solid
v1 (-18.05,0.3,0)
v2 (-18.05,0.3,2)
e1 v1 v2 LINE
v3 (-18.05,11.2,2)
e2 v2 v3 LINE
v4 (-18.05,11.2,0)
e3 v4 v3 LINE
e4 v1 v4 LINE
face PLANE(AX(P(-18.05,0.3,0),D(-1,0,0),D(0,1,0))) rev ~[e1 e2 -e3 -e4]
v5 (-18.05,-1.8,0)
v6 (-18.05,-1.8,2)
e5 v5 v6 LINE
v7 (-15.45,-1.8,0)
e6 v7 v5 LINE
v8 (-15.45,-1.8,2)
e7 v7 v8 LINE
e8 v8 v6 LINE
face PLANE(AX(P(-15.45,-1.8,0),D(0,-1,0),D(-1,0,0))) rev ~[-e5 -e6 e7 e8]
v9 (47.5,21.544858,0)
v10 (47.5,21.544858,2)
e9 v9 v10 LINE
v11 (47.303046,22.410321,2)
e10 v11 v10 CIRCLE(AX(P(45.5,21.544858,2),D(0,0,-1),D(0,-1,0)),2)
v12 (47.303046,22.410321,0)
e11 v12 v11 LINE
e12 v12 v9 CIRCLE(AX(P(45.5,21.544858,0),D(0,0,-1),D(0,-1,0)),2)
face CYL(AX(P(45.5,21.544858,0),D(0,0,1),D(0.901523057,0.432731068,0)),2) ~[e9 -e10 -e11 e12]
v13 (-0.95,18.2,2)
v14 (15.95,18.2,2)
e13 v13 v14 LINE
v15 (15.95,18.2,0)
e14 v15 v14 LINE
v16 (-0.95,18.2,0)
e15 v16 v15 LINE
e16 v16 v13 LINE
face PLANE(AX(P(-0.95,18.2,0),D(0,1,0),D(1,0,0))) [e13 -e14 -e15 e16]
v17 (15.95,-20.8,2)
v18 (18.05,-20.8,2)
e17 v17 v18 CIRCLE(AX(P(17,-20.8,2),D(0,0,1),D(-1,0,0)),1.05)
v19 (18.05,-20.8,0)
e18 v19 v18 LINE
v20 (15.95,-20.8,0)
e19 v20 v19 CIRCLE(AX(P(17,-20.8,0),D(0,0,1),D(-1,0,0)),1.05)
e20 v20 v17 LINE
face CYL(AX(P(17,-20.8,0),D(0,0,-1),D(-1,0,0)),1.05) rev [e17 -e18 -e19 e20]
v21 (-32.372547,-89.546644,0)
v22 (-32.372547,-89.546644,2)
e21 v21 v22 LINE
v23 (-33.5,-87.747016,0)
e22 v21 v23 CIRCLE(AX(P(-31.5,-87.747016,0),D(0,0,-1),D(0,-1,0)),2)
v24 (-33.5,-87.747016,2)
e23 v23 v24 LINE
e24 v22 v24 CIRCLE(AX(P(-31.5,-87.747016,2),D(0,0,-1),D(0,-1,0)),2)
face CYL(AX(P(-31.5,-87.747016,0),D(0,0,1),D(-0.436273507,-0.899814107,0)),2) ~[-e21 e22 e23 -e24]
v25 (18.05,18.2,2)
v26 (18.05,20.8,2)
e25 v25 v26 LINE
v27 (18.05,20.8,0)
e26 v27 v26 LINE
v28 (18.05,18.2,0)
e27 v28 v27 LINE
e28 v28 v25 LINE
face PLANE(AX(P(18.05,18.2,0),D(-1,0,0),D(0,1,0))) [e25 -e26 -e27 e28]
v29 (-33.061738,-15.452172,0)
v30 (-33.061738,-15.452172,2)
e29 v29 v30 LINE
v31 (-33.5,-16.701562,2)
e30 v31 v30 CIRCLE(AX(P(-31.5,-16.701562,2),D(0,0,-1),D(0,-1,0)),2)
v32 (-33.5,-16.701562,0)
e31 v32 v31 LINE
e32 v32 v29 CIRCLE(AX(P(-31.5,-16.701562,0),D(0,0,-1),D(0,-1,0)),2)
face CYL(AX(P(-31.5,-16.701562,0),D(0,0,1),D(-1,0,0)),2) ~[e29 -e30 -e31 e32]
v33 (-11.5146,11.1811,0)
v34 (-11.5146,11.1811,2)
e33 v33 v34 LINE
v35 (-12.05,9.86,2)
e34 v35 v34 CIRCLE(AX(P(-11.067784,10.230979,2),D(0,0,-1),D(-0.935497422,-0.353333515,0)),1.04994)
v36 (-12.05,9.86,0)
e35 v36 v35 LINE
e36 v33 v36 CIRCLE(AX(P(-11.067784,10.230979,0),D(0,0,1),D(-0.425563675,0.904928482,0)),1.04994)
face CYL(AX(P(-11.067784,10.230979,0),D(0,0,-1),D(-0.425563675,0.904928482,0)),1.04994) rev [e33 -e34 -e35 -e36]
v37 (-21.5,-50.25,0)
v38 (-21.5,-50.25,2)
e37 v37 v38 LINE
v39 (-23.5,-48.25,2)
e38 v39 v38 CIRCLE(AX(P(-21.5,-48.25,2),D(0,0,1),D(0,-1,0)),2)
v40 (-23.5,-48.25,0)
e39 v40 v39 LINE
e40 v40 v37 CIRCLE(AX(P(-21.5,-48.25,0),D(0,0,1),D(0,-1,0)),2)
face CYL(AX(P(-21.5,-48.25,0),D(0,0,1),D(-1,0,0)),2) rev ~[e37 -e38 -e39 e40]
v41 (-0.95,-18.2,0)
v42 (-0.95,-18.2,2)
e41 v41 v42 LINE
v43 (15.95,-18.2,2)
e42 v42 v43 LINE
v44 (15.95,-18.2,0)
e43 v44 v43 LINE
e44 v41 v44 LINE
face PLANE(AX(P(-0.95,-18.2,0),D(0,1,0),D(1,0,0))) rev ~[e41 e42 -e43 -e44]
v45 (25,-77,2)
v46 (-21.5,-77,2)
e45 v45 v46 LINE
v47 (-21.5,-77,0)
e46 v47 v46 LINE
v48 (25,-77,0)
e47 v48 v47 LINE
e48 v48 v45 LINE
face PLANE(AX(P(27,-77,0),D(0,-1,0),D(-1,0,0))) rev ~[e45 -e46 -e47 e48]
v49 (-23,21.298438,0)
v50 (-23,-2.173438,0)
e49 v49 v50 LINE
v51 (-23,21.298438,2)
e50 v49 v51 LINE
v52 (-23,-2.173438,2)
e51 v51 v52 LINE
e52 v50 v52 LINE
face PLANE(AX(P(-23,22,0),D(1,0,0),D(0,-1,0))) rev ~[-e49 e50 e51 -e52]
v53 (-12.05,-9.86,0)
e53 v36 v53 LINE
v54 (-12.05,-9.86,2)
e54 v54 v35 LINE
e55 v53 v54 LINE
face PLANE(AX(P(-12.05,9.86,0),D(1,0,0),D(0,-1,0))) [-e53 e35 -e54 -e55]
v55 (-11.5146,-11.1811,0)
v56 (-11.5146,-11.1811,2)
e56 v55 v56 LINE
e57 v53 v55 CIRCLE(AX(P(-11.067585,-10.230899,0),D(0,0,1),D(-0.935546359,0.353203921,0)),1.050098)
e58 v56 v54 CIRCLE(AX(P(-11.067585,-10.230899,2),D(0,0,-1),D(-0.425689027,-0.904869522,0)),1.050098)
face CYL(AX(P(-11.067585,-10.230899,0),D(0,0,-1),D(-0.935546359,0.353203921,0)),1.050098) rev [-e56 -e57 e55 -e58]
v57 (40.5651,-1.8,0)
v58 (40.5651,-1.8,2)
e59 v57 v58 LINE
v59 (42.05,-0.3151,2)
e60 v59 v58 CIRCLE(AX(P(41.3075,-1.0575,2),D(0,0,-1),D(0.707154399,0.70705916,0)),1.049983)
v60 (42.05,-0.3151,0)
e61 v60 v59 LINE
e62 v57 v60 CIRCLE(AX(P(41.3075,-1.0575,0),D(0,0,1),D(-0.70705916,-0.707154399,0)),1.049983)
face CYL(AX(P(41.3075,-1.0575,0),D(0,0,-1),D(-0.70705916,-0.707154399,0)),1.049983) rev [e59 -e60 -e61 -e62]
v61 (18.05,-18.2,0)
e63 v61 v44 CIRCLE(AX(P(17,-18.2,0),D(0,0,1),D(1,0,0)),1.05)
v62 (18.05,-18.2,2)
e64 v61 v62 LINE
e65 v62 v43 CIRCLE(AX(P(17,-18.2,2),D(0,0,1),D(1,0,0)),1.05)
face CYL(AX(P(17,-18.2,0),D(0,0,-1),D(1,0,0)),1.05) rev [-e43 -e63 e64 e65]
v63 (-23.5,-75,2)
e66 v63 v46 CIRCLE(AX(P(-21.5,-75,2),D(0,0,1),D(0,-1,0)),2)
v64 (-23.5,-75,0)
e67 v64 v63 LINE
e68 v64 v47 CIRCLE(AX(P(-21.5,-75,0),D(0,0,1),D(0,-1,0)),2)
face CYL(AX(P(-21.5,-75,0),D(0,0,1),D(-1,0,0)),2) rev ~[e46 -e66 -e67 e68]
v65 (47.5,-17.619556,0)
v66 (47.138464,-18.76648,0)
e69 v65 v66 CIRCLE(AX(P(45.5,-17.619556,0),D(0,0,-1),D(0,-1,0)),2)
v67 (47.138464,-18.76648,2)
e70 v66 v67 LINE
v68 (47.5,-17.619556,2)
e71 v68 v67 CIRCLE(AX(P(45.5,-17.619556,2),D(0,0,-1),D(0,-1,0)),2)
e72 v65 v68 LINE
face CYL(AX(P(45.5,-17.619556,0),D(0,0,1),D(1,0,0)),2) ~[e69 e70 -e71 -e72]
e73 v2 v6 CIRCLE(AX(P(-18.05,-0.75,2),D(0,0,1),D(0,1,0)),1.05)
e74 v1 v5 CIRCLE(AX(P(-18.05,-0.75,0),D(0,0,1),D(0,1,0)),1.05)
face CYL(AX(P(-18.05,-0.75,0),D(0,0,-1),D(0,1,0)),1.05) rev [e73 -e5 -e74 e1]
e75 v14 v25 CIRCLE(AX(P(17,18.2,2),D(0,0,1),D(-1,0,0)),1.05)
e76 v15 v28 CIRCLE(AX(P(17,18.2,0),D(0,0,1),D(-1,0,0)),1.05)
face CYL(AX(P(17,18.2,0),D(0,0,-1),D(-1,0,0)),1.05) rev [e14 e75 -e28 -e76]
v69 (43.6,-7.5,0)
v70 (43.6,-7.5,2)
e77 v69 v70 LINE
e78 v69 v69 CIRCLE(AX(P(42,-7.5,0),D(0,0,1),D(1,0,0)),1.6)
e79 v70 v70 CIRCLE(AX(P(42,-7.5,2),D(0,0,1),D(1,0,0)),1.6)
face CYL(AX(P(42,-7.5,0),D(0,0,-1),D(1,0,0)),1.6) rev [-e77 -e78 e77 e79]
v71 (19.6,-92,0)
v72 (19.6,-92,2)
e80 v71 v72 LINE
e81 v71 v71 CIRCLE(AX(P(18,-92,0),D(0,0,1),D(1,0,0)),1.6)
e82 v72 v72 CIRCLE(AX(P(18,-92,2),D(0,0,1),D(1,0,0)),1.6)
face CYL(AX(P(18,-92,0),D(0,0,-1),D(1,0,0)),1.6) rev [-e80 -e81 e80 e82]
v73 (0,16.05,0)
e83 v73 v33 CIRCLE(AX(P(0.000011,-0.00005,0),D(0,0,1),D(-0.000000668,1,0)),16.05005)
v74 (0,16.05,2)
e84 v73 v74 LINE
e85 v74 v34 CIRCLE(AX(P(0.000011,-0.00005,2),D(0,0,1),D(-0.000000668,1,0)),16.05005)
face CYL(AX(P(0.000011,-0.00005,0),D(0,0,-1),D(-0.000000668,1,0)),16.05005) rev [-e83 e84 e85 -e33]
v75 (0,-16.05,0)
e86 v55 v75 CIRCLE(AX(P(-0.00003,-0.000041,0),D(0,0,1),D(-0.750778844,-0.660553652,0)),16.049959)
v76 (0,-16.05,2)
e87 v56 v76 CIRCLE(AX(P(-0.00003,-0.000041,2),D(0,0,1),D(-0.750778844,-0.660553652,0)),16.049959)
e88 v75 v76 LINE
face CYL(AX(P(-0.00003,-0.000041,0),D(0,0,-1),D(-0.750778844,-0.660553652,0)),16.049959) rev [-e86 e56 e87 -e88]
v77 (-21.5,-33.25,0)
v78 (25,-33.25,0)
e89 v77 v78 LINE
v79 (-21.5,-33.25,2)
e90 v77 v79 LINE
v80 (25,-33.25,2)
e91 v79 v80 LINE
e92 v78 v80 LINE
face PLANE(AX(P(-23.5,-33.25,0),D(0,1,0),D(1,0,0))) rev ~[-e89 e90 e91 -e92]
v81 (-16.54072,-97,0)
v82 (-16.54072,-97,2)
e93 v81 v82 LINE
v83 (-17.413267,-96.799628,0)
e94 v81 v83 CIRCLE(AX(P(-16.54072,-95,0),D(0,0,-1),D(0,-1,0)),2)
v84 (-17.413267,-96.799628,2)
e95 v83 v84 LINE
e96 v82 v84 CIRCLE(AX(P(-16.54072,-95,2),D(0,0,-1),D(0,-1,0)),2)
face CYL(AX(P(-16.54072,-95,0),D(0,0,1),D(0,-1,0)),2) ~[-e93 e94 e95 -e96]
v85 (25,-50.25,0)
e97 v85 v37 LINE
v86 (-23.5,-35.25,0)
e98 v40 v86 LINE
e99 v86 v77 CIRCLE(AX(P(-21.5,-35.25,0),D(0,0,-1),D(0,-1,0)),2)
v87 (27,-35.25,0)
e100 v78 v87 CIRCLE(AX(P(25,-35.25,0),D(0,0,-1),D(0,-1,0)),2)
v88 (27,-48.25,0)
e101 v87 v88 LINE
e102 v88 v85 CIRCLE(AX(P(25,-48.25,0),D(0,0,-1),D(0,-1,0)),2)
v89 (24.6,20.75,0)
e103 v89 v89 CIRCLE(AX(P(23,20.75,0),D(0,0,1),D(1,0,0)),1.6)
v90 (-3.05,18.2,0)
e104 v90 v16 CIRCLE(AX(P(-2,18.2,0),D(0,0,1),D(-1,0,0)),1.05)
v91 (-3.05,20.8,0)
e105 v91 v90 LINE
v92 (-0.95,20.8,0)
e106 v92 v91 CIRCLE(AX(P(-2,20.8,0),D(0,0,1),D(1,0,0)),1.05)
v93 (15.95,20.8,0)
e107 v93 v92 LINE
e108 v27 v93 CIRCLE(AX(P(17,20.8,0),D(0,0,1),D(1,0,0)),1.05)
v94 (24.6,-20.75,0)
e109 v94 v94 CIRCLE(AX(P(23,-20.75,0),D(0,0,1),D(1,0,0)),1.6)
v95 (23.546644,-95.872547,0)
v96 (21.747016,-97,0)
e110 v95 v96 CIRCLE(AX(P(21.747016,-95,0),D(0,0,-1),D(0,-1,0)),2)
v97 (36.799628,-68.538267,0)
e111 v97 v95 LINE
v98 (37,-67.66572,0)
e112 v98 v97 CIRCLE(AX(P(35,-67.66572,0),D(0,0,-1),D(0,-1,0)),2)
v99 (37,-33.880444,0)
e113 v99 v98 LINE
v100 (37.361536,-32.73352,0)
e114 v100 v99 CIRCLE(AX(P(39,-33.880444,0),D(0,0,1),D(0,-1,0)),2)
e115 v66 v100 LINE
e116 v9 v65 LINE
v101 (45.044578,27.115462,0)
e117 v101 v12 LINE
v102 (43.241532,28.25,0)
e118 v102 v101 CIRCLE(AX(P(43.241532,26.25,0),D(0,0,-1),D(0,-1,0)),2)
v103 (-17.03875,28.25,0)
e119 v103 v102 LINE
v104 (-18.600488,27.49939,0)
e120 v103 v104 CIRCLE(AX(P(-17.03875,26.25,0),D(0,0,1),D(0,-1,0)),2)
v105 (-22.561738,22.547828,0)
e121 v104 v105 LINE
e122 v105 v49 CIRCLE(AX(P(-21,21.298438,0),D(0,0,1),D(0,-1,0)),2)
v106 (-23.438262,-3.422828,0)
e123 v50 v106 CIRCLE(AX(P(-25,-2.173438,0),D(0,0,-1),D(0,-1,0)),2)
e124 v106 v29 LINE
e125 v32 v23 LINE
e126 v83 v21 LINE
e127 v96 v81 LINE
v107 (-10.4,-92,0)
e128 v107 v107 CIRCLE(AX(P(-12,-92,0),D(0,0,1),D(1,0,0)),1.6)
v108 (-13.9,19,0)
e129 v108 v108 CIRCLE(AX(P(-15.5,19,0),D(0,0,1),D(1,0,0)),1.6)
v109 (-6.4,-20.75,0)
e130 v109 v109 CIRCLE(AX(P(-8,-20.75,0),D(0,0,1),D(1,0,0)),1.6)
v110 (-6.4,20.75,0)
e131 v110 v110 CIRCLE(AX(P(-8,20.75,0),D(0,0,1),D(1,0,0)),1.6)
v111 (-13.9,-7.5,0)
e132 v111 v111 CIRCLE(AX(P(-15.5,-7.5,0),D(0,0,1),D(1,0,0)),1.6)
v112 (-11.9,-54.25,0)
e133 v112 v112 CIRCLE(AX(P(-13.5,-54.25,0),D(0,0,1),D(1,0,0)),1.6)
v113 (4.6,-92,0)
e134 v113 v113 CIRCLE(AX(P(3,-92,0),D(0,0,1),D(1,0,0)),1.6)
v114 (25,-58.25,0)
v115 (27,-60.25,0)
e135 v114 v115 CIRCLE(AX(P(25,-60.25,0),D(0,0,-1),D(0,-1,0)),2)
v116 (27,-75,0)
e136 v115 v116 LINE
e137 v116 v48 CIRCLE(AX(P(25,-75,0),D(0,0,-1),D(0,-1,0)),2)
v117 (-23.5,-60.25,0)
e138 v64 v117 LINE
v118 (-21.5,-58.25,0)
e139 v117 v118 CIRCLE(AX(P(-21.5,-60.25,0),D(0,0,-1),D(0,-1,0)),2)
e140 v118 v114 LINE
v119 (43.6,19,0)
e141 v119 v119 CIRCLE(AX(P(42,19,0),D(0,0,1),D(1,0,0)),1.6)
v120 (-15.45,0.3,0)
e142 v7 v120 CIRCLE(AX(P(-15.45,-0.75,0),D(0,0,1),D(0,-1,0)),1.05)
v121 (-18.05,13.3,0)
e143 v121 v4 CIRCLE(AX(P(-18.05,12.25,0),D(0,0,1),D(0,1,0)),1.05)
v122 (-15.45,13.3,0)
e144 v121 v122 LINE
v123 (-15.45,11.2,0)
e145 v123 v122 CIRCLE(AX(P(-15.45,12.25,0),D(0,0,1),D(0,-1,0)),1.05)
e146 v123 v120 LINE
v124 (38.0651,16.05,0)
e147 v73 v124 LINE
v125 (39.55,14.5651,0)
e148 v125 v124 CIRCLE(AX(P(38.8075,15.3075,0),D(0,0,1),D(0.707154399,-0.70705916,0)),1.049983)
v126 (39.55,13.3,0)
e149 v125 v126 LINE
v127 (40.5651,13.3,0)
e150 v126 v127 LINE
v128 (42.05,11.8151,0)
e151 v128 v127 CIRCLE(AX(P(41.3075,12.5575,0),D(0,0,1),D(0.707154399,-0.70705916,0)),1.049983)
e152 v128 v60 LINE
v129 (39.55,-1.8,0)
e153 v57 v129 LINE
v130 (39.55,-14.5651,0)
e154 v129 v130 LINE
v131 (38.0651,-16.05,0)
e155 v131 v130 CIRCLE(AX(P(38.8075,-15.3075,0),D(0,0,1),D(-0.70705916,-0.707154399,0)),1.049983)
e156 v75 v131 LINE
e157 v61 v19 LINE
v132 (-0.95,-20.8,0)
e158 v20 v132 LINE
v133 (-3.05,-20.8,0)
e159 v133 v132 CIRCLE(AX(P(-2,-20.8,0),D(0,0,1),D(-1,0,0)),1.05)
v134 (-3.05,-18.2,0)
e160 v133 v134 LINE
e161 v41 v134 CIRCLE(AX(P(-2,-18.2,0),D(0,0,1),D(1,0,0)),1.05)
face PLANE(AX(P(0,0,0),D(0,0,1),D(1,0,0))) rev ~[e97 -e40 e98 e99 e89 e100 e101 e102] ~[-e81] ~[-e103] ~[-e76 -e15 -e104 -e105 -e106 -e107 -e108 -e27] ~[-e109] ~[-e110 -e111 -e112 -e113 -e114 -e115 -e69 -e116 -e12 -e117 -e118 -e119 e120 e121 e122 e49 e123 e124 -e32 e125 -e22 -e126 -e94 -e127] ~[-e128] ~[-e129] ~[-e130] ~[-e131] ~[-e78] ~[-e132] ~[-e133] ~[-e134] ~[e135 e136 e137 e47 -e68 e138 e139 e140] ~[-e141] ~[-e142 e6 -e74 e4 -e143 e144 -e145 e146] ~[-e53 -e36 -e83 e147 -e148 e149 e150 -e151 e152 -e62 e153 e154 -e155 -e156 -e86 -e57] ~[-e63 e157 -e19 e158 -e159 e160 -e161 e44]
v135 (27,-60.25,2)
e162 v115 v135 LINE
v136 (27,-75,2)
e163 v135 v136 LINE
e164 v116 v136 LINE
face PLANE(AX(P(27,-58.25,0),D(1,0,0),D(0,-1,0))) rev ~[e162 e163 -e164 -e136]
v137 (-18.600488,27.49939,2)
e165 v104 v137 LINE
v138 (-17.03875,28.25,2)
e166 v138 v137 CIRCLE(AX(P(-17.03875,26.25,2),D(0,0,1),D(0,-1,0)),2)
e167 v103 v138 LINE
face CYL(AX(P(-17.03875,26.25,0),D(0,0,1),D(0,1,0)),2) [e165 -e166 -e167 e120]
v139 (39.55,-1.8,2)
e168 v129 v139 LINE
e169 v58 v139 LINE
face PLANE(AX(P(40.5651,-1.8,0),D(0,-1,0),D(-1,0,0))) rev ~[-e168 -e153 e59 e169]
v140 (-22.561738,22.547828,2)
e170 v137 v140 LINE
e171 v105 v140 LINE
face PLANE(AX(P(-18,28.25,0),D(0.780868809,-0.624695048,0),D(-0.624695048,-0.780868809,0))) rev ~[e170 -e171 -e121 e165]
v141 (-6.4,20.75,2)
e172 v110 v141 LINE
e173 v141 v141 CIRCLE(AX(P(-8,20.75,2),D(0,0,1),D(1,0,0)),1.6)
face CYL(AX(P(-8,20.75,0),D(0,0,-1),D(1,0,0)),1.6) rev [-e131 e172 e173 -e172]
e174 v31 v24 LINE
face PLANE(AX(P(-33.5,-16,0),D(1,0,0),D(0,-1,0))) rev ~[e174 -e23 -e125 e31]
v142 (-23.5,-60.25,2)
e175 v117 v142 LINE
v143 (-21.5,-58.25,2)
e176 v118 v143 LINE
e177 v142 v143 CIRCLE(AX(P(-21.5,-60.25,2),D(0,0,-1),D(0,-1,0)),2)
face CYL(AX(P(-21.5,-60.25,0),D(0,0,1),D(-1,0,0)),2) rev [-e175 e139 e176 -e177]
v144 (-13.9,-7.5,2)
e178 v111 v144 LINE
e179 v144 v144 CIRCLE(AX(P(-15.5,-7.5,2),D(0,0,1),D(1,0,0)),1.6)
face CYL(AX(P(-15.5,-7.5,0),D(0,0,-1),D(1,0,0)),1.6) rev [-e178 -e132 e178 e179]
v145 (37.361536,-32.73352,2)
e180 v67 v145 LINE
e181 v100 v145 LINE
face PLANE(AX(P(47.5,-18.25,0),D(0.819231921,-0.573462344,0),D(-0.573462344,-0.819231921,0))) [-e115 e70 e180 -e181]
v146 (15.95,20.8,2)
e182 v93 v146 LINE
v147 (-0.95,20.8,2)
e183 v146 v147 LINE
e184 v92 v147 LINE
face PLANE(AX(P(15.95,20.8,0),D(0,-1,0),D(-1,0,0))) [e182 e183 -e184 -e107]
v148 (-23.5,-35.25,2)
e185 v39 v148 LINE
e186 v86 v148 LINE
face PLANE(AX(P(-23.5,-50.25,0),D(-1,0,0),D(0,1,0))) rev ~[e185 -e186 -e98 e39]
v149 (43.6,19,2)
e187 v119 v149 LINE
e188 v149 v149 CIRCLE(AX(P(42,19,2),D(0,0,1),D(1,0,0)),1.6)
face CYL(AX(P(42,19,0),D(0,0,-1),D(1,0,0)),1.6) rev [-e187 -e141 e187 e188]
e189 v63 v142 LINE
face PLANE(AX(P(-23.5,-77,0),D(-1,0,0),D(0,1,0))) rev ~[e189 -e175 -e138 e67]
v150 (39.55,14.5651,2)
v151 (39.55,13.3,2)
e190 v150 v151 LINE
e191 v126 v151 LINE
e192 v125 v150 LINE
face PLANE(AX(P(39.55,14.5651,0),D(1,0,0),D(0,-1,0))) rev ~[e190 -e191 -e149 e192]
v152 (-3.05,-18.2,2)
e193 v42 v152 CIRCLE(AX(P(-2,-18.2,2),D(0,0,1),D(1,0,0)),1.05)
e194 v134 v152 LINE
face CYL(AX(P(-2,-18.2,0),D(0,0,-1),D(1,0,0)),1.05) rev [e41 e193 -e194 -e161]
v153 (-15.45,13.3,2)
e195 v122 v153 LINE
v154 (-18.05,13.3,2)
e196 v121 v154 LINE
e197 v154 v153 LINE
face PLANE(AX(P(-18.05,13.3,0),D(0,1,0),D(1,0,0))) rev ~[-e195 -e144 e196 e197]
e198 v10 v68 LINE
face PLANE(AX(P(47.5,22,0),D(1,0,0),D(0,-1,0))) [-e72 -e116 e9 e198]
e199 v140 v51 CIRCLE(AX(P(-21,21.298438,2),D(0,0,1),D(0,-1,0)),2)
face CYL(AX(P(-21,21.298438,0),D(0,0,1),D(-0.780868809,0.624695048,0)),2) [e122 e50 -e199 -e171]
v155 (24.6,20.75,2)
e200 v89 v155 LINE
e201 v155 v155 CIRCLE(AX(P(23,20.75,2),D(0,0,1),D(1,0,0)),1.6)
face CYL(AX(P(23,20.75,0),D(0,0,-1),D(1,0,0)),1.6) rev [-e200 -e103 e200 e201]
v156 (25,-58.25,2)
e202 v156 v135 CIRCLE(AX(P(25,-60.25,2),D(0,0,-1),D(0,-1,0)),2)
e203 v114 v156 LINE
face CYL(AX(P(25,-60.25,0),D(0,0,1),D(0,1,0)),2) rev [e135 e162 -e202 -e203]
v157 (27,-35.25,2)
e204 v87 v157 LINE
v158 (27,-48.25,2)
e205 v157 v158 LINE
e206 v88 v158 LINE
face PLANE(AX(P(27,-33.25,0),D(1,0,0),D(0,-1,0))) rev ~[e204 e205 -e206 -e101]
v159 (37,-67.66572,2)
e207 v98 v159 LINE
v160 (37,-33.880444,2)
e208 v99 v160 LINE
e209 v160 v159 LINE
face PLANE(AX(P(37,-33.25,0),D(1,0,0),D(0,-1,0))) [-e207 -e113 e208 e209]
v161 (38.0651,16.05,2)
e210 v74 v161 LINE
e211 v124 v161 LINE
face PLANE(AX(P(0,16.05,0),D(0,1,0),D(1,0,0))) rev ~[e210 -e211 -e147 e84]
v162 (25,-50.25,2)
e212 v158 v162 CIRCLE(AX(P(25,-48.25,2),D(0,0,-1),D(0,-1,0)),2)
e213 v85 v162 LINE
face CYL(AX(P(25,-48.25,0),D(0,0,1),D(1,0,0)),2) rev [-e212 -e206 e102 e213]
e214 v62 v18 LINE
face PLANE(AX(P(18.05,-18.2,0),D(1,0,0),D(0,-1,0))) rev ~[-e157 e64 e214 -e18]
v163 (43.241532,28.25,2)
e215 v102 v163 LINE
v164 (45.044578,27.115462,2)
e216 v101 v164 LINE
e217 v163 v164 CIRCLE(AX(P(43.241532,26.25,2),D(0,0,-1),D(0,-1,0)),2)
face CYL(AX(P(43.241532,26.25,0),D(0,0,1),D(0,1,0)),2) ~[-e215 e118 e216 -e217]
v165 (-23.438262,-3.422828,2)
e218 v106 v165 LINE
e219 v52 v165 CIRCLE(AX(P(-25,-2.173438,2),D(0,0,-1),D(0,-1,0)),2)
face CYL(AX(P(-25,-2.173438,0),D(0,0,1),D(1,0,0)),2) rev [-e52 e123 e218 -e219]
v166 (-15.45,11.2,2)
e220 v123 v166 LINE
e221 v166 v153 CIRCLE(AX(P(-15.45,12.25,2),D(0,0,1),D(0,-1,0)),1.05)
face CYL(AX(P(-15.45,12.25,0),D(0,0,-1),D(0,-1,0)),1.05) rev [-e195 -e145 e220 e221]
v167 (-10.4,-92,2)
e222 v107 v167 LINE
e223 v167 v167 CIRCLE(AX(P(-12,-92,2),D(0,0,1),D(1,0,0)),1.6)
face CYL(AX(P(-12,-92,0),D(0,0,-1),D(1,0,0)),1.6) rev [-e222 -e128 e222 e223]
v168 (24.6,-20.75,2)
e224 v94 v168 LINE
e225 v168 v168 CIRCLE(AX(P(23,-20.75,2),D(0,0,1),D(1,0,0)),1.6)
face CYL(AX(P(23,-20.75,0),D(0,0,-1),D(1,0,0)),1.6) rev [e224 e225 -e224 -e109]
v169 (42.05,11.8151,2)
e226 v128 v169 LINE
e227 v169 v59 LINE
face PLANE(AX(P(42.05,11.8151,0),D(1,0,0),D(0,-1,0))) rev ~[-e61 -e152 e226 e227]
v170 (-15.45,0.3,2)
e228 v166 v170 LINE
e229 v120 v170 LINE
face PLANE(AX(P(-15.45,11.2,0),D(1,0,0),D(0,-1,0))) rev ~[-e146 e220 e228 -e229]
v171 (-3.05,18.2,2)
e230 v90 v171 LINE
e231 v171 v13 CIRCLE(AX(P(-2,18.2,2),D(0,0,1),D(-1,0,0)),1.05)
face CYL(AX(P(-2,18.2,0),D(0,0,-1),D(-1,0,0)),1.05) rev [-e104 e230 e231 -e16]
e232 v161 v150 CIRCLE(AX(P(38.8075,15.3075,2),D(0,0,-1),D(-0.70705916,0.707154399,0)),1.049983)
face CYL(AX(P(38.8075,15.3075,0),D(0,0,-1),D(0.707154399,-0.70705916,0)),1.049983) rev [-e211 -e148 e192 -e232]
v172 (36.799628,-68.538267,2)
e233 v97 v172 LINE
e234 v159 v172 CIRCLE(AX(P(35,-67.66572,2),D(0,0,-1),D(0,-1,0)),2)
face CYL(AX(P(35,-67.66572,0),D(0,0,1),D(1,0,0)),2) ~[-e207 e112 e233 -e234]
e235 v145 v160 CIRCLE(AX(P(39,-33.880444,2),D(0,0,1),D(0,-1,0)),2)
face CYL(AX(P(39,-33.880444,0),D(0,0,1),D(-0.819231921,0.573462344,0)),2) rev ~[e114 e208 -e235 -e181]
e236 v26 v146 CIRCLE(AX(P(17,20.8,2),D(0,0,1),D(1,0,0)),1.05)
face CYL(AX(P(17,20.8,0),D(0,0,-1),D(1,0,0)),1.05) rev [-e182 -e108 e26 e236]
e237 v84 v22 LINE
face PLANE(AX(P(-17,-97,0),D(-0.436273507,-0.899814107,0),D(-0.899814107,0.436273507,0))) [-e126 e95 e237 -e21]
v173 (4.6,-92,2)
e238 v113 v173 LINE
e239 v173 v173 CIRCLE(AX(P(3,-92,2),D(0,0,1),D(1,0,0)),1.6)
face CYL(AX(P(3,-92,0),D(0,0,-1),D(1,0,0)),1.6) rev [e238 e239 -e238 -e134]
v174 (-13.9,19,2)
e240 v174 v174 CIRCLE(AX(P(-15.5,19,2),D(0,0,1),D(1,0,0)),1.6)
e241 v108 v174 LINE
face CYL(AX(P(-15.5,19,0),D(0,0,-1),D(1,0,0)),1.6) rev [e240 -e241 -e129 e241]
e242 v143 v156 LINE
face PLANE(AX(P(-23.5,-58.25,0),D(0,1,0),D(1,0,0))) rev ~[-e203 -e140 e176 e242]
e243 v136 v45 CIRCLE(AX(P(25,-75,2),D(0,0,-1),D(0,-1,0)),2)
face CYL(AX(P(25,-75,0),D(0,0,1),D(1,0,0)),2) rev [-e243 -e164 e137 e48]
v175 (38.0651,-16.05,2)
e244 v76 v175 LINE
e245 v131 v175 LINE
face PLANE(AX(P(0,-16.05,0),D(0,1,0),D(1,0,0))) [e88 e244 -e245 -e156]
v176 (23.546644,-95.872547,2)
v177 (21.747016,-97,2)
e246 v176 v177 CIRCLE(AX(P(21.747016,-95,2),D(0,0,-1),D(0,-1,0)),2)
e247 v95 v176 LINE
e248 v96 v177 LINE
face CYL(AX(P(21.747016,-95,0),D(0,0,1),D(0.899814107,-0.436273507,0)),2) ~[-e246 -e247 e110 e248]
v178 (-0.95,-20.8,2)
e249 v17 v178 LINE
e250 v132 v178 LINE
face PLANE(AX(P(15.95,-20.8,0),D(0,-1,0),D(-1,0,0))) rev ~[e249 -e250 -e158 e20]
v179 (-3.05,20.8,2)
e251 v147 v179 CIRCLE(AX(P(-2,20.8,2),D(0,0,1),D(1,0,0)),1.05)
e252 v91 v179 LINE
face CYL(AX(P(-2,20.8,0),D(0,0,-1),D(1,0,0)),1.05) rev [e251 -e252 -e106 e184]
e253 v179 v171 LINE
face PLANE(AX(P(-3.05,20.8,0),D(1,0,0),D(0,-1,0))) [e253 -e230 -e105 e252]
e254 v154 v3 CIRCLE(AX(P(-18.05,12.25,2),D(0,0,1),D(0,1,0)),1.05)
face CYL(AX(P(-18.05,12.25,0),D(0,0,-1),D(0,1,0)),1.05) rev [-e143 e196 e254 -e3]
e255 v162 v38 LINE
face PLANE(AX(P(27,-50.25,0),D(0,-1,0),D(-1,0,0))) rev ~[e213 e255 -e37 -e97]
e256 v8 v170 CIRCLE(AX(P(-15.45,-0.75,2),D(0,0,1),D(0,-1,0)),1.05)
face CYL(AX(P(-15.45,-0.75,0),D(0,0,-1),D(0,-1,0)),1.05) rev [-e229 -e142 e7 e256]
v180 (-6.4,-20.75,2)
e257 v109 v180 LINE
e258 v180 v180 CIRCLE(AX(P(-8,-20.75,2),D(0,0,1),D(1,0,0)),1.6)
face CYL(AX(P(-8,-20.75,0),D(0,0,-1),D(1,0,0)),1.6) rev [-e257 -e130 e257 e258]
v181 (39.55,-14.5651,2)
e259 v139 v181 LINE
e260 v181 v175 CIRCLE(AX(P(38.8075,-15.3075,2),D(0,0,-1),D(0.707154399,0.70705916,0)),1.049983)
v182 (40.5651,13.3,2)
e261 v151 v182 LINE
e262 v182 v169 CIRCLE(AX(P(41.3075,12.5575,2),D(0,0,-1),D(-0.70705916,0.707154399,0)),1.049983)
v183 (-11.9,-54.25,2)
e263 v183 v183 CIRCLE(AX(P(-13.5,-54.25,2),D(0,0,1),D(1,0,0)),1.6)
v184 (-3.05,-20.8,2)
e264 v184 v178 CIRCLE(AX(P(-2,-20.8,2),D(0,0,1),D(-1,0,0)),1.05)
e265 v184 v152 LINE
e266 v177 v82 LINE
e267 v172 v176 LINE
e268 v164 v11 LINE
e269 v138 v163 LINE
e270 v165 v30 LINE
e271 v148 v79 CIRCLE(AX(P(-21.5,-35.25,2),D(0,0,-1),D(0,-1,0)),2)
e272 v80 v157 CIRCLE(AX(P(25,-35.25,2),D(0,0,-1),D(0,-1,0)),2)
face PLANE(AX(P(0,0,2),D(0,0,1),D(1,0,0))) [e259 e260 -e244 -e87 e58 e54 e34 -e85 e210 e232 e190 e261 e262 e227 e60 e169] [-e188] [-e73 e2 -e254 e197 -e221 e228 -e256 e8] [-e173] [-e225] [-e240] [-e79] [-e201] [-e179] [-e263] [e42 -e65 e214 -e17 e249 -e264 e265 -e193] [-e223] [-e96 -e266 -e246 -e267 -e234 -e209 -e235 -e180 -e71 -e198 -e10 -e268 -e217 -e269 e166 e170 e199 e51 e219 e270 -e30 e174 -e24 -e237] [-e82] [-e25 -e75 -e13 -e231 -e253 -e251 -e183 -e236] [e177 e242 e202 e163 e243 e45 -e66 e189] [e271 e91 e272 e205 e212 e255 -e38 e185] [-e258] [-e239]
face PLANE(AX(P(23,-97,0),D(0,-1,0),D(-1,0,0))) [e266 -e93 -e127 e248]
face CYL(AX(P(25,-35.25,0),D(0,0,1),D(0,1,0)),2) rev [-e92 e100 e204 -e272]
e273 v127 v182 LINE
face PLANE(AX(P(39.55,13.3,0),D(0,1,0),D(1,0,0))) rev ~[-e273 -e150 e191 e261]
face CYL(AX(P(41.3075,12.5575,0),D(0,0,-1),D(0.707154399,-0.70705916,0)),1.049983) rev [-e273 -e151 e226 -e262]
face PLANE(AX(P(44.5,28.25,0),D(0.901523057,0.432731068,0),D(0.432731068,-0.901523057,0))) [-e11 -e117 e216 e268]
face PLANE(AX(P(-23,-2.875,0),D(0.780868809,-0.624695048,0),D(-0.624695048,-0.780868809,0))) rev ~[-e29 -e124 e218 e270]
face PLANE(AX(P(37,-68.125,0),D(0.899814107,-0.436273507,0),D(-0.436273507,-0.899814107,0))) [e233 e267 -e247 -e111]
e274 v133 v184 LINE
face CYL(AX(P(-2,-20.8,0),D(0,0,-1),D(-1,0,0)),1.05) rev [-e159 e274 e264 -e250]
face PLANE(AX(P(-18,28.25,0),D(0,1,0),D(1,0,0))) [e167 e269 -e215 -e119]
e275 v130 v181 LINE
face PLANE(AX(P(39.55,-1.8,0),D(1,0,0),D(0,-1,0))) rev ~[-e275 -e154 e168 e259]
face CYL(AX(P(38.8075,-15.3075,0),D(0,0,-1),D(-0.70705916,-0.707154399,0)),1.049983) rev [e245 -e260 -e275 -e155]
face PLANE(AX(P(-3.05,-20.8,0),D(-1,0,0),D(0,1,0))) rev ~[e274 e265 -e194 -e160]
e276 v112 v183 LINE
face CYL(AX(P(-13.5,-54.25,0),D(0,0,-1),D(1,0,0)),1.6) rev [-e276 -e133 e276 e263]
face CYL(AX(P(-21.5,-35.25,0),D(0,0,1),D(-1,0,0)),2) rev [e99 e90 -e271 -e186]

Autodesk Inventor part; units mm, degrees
ref_plane "YZ Plane" through (0, 0, 0) normal (1, 0, 0) x (0, 1, 0)
ref_plane "XZ Plane" through (0, 0, 0) normal (0, 1, 0) x (-1, 0, 0)
ref_plane "XY Plane" through (0, 0, 0) normal (0, 0, 1) x (1, 0, 0)
sketch "スケッチ1" plane through (0, 0, 0) normal (0, 0, 1) x (1, 0, 0)
  circle A0 centre (0, 0) radius 11
  line L0 (1, 13.5) -> (28, 13.5) construction
  line L1 (28, 13.5) -> (28, -13.5) construction
  line L2 (28, -13.5) -> (1, -13.5) construction
  line L3 (1, -13.5) -> (1, 13.5) construction
  line L4 (1, 13.5) -> (28, -13.5) construction
  line L5 (28, 13.5) -> (1, -13.5) construction
  line L6 (-12, 16) -> (39.5, 16) construction
  line L7 (39.5, 16) -> (39.5, -16) construction
  line L8 (39.5, -16) -> (-12, -16) construction
  line L9 (-12, -16) -> (-12, 16) construction
  line L10 (-12, 16) -> (39.5, -16) construction
  line L11 (39.5, 16) -> (-12, -16) construction
  circle A1 centre (1, 13.5) radius 1.35
  arc A2 (0, 16) -> (-12, 10.583) centre (0, 0) ccw construction
  line L12 (-12, 0) -> (39.5, 0)
  circle A3 centre (28, 13.5) radius 1.35
  arc A4 (-12, -10.583) -> (0, -16) centre (0, 0) ccw construction
  circle A5 centre (1, -13.5) radius 1.35
  circle A6 centre (28, -13.5) radius 1.35
  arc A7 (0, 16.05) -> (-12.05, 10.6019) centre (0, 0) ccw
  line L13 (0, 16.05) -> (39.55, 16.05)
  line L14 (39.55, 16.05) -> (39.55, 13.3)
  line L15 (-12.05, 10.6019) -> (-12.05, 0)
  arc A8 (-11.5146, 11.1811) -> (-12.05, 9.86) centre (-11.0677, 10.2309) ccw
  line L16 (-12.05, 10.6019) -> (-11.0677, 10.2309) construction
  arc A9 (39.55, 14.5651) -> (38.0651, 16.05) centre (38.8075, 15.3075) ccw
  line L17 (38.8075, 15.3075) -> (39.55, 16.05) construction
  arc A10 (-12.05, -10.6019) -> (0, -16.05) centre (0, 0) ccw
  line L18 (0, -16.05) -> (39.55, -16.05)
  line L19 (-12.05, -10.6019) -> (-12.05, 0)
  arc A11 (-12.05, -9.86) -> (-11.5146, -11.1811) centre (-11.0677, -10.2309) ccw
  arc A12 (38.0651, -16.05) -> (39.55, -14.5651) centre (38.8075, -15.3075) ccw
  line L20 (39.55, 13.3) -> (42.05, 13.3)
  line L21 (42.05, 13.3) -> (42.05, -1.8)
  line L22 (42.05, -1.8) -> (39.55, -1.8)
  line L23 (39.55, -1.8) -> (39.55, -14.5651)
  line L24 (39.5, 13.25) -> (42, 13.25) construction
  line L25 (42, 13.25) -> (42, -1.75) construction
  line L26 (42, -1.75) -> (39.5, -1.75) construction
  line L27 (42, 5.75) -> (39.5, 5.75) construction
  arc A13 (42.05, 11.8151) -> (40.5651, 13.3) centre (41.3075, 12.5575) ccw
  line L28 (41.3075, 12.5575) -> (42.05, 13.3) construction
  arc A14 (40.5651, -1.8) -> (42.05, -0.3151) centre (41.3075, -1.0575) ccw
  circle A15 centre (-15.5, 19) radius 1.6
  line L29 (-18, 22) -> (-13, 22) construction
  line L30 (-13, 22) -> (-13, -10.5) construction
  line L31 (-13, -10.5) -> (-18, -10.5) construction
  line L32 (-18, -10.5) -> (-18, 22) construction
  line L33 (-18, 22) -> (-13, -10.5) construction
  line L34 (-13, 22) -> (-18, -10.5) construction
  line L35 (-18, 5.75) -> (-13, 5.75) construction
  line L36 (-15.5, 22) -> (-15.5, -10.5) construction
  line L37 (-18, 13.25) -> (-15.5, 13.25) construction
  line L38 (-15.5, 13.25) -> (-15.5, -1.75) construction
  line L39 (-15.5, -1.75) -> (-18, -1.75) construction
  line L40 (-18, 13.25) -> (-15.5, -1.75) construction
  line L41 (-15.5, 13.25) -> (-18, -1.75) construction
  line L42 (-15.45, -1.8) -> (-18.05, -1.8)
  line L43 (-18.05, -1.8) -> (-18.05, 13.3)
  line L44 (-18.05, 13.3) -> (-15.45, 13.3)
  line L45 (-15.45, 13.3) -> (-15.45, -1.8)
  line L46 (-15.45, -1.8) -> (-18.05, 13.3) construction
  line L47 (-18.05, -1.8) -> (-15.45, 13.3) construction
  line L48 (-16.75, 13.3) -> (-16.75, -1.8) construction
  arc A16 (-18.05, 13.3) -> (-18.05, 11.2) centre (-18.05, 12.25) ccw
  arc A17 (-15.45, 11.2) -> (-15.45, 13.3) centre (-15.45, 12.25) ccw
  arc A18 (-18.05, 0.3) -> (-18.05, -1.8) centre (-18.05, -0.75) ccw
  arc A19 (-15.45, -1.8) -> (-15.45, 0.3) centre (-15.45, -0.75) ccw
  circle A20 centre (-15.5, -7.5) radius 1.6
  line L49 (14.5, 16) -> (14.5, -16) construction
  circle A21 centre (42, 19) radius 1.6
  line L50 (39.5, 22) -> (44.5, 22) construction
  line L51 (44.5, 22) -> (44.5, -10.5) construction
  line L52 (44.5, -10.5) -> (39.5, -10.5) construction
  line L53 (39.5, 22) -> (44.5, -10.5) construction
  line L54 (44.5, 22) -> (39.5, -10.5) construction
  line L55 (42, 22) -> (42, -10.5) construction
  circle A22 centre (42, -7.5) radius 1.6
  line L56 (-12, -18.25) -> (27, -18.25) construction
  line L57 (27, -18.25) -> (27, -23.25) construction
  line L58 (27, -23.25) -> (-12, -23.25) construction
  line L59 (-12, -23.25) -> (-12, -18.25) construction
  line L60 (-12, -18.25) -> (27, -23.25) construction
  line L61 (27, -18.25) -> (-12, -23.25) construction
  line L62 (-3, -20.75) -> (18, -20.75) construction
  line L63 (18, -20.75) -> (18, -18.25) construction
  line L64 (-3, -18.25) -> (-3, -20.75) construction
  line L65 (-3, -20.75) -> (18, -18.25) construction
  line L66 (18, -20.75) -> (-3, -18.25) construction
  line L67 (-12, -20.75) -> (27, -20.75) construction
  line L68 (7.5, -18.25) -> (7.5, -23.25) construction
  line L69 (-3.05, -18.2) -> (18.05, -18.2)
  line L70 (18.05, -18.2) -> (18.05, -20.8)
  line L71 (18.05, -20.8) -> (-3.05, -20.8)
  line L72 (-3.05, -20.8) -> (-3.05, -18.2)
  line L73 (-3.05, -18.2) -> (18.05, -20.8) construction
  line L74 (18.05, -18.2) -> (-3.05, -20.8) construction
  circle A23 centre (-8, -20.75) radius 1.6
  circle A24 centre (23, -20.75) radius 1.6
  arc A25 (-0.95, -18.2) -> (-3.05, -18.2) centre (-2, -18.2) ccw
  arc A26 (18.05, -18.2) -> (15.95, -18.2) centre (17, -18.2) ccw
  line L75 (-3.05, -19.5) -> (18.05, -19.5) construction
  arc A27 (-3.05, -20.8) -> (-0.95, -20.8) centre (-2, -20.8) ccw
  arc A28 (15.95, -20.8) -> (18.05, -20.8) centre (17, -20.8) ccw
  line L76 (-12, 18.25) -> (27, 18.25) construction
  line L77 (27, 18.25) -> (27, 23.25) construction
  line L78 (27, 23.25) -> (-12, 23.25) construction
  line L79 (-12, 23.25) -> (-12, 18.25) construction
  line L80 (-12, 18.25) -> (27, 23.25) construction
  line L81 (27, 18.25) -> (-12, 23.25) construction
  line L82 (-3, 20.75) -> (18, 20.75) construction
  line L83 (18, 20.75) -> (18, 18.25) construction
  line L84 (-3, 18.25) -> (-3, 20.75) construction
  line L85 (-3, 20.75) -> (18, 18.25) construction
  line L86 (18, 20.75) -> (-3, 18.25) construction
  line L87 (-12, 20.75) -> (27, 20.75) construction
  line L88 (7.5, 18.25) -> (7.5, 23.25) construction
  line L89 (-3.05, 18.2) -> (18.05, 18.2)
  line L90 (18.05, 18.2) -> (18.05, 20.8)
  line L91 (18.05, 20.8) -> (-3.05, 20.8)
  line L92 (-3.05, 20.8) -> (-3.05, 18.2)
  line L93 (-3.05, 18.2) -> (18.05, 20.8) construction
  line L94 (18.05, 18.2) -> (-3.05, 20.8) construction
  circle A29 centre (-8, 20.75) radius 1.6
  circle A30 centre (23, 20.75) radius 1.6
  arc A31 (-3.05, 18.2) -> (-0.95, 18.2) centre (-2, 18.2) ccw
  arc A32 (15.95, 18.2) -> (18.05, 18.2) centre (17, 18.2) ccw
  line L95 (-3.05, 19.5) -> (18.05, 19.5) construction
  arc A33 (-0.95, 20.8) -> (-3.05, 20.8) centre (-2, 20.8) ccw
  arc A34 (18.05, 20.8) -> (15.95, 20.8) centre (17, 20.8) ccw
  line L96 (-18, 28.25) -> (44.5, 28.25)
  line L97 (-18, 28.25) -> (-23, 22)
  line L98 (44.5, 28.25) -> (47.5, 22)
  line L99 (-23, 22) -> (-23, -2.875)
  line L100 (47.5, 22) -> (47.5, -18.25)
  line L101 (47.5, -18.25) -> (37, -33.25)
  line L102 (-23, -2.875) -> (-33.5, -16)
  line L103 (-33.5, -16) -> (-33.5, -89)
  line L104 (37, -33.25) -> (37, -68.125)
  line L105 (37, -68.125) -> (23, -97)
  line L106 (23, -97) -> (-17, -97)
  line L107 (-17, -97) -> (-33.5, -89)
  circle A35 centre (-12, -92) radius 1.6
  circle A36 centre (3, -92) radius 1.6
  line L108 (-17, -97) -> (-17, -87) construction
  line L109 (-17, -87) -> (23, -87) construction
  line L110 (23, -87) -> (23, -97) construction
  line L111 (-17, -92) -> (23, -92) construction
  line L112 (3, -87) -> (3, -97) construction
  circle A37 centre (18, -92) radius 1.6
  circle A38 centre (-13.5, -54.25) radius 1.6
  line L113 (-23.5, -58.25) -> (27, -58.25)
  line L114 (27, -58.25) -> (27, -77)
  line L115 (27, -77) -> (-23.5, -77)
  line L116 (-23.5, -77) -> (-23.5, -58.25)
  line L117 (-23.5, -33.25) -> (27, -33.25)
  line L118 (27, -33.25) -> (27, -50.25)
  line L119 (27, -50.25) -> (-23.5, -50.25)
  line L120 (-23.5, -50.25) -> (-23.5, -33.25)
  circle A39 centre (-13.5, -54.25) radius 4 construction
  line L121 (-9.8584, -90.1093) -> (-9.2918, -91.0907)
  line L122 (-9.2918, -92.9093) -> (-9.8584, -93.8907)
  line L123 (-11.4334, -94.8) -> (-12.5666, -94.8)
  line L124 (-14.1416, -93.8907) -> (-14.7082, -92.9093)
  line L125 (-14.7082, -91.0907) -> (-14.1416, -90.1093)
  line L126 (-12.5666, -89.2) -> (-11.4334, -89.2)
  arc A40 (-9.8584, -90.1093) -> (-11.4334, -89.2) centre (-10.9084, -90.1093) ccw
  arc A41 (-12.5666, -89.2) -> (-14.1416, -90.1093) centre (-13.0916, -90.1093) ccw
  arc A42 (-14.7082, -91.0907) -> (-14.7082, -92.9093) centre (-14.1832, -92) ccw
  arc A43 (-14.1416, -93.8907) -> (-12.5666, -94.8) centre (-13.0916, -93.8907) ccw
  arc A44 (-11.4334, -94.8) -> (-9.8584, -93.8907) centre (-10.9084, -93.8907) ccw
  arc A45 (-9.2918, -92.9093) -> (-9.2918, -91.0907) centre (-9.8168, -92) ccw
  arc A46 (5.7082, -92.9093) -> (5.7082, -91.0907) centre (5.1832, -92) ccw
  line L127 (5.1416, -90.1093) -> (5.7082, -91.0907)
  line L128 (5.7082, -92.9093) -> (5.1416, -93.8907)
  arc A47 (3.5666, -94.8) -> (5.1416, -93.8907) centre (4.0916, -93.8907) ccw
  arc A48 (5.1416, -90.1093) -> (3.5666, -89.2) centre (4.0916, -90.1093) ccw
  line L129 (2.4334, -89.2) -> (3.5666, -89.2)
  arc A49 (2.4334, -89.2) -> (0.8584, -90.1093) centre (1.9084, -90.1093) ccw
  line L130 (0.2918, -91.0907) -> (0.8584, -90.1093)
  arc A50 (0.2918, -91.0907) -> (0.2918, -92.9093) centre (0.8168, -92) ccw
  line L131 (0.8584, -93.8907) -> (0.2918, -92.9093)
  arc A51 (0.8584, -93.8907) -> (2.4334, -94.8) centre (1.9084, -93.8907) ccw
  line L132 (3.5666, -94.8) -> (2.4334, -94.8)
  arc A52 (20.7082, -92.9093) -> (20.7082, -91.0907) centre (20.1832, -92) ccw
  line L133 (20.1416, -90.1093) -> (20.7082, -91.0907)
  line L134 (20.7082, -92.9093) -> (20.1416, -93.8907)
  arc A53 (18.5666, -94.8) -> (20.1416, -93.8907) centre (19.0916, -93.8907) ccw
  arc A54 (20.1416, -90.1093) -> (18.5666, -89.2) centre (19.0916, -90.1093) ccw
  line L135 (17.4334, -89.2) -> (18.5666, -89.2)
  arc A55 (17.4334, -89.2) -> (15.8584, -90.1093) centre (16.9084, -90.1093) ccw
  line L136 (15.2918, -91.0907) -> (15.8584, -90.1093)
  arc A56 (15.2918, -91.0907) -> (15.2918, -92.9093) centre (15.8168, -92) ccw
  line L137 (15.8584, -93.8907) -> (15.2918, -92.9093)
  arc A57 (15.8584, -93.8907) -> (17.4334, -94.8) centre (16.9084, -93.8907) ccw
  line L138 (18.5666, -94.8) -> (17.4334, -94.8)
  point P0 (14.5, 0)
  point P1 (-15.5, 5.75)
  point P2 (-16.75, 5.75)
  point P3 (14.5, 0)
  point P4 (42, 5.75)
  point P5 (42, 5.75)
  point P6 (7.5, -20.75)
  point P7 (7.5, -19.5)
  point P8 (7.5, -19.5)
  point P9 (7.5, -19.5)
  point P10 (7.5, -19.5)
  point P11 (7.5, 20.75)
  point P12 (7.5, 19.5)
  point P13 (7.5, 19.5)
  point P14 (7.5, 19.5)
  point P15 (7.5, 19.5)
  point P16 (-0.95, 20.8)
  point P17 (15.95, 20.8)
  point P18 (15.95, 18.2)
  point P19 (15.95, -20.8)
  point P20 (-0.95, -20.8)
  point P21 (15.95, -18.2)
  point P22 (-18.05, 0.3)
  point P23 (-15.45, 0.3)
  point P24 (42.05, -0.3151)
  point P25 (40.5651, -1.8)
  point P26 (-10.3834, -89.2)
  point P27 (-13.6166, -89.2)
  point P28 (-15.2332, -92)
  point P29 (-13.6166, -94.8)
  point P30 (-10.3834, -94.8)
  point P31 (-8.7668, -92)
  point P32 (-13.6166, -89.2)
  point P33 (-15.2332, -92)
  point P34 (-8.7668, -92)
  point P35 (3, -92)
  point P36 (6.2332, -92)
  point P37 (6.2332, -92)
  point P38 (4.6166, -89.2)
  point P39 (4.6166, -94.8)
  point P40 (3, -92)
  point P41 (3, -92)
  point P42 (1.3834, -89.2)
  point P43 (1.3834, -89.2)
  point P44 (-0.2332, -92)
  point P45 (-0.2332, -92)
  point P46 (1.3834, -94.8)
  point P47 (18, -92)
  point P48 (21.2332, -92)
  point P49 (21.2332, -92)
  point P50 (19.6166, -89.2)
  point P51 (19.6166, -94.8)
  point P52 (18, -92)
  point P53 (18, -92)
  point P54 (16.3834, -89.2)
  point P55 (16.3834, -89.2)
  point P56 (14.7668, -92)
  point P57 (14.7668, -92)
  point P58 (16.3834, -94.8)
  dimension "d0" = 22
  dimension "d1" = 27
  dimension "d2" = 27
  dimension "d4" = 51.5
  dimension "d5" = 32
  dimension "d7" = 1
  dimension "d8" = 2.7
  dimension "d9" = 16
  dimension "d10" = 2.7
  dimension "d13" = 12
  dimension "d15" = 0.05
  dimension "d16" = 0.05
  dimension "d17" = 1.05
  dimension "d18" = 0.05
  dimension "d19" = 1.05
  dimension "d21" = 15
  dimension "d23" = 0.05
  dimension "d24" = 0.05
  dimension "d25" = 0.05
  dimension "d26" = 1.05
  dimension "d27" = 3.2
  dimension "d28" = 5
  dimension "d29" = 2.5
  dimension "d30" = 15
  dimension "d31" = 32.5
  dimension "d32" = 2.6
  dimension "d33" = 15.1
  dimension "d34" = 1.05
  dimension "d35" = 26.5
  dimension "d36" = 5.5
  dimension "d37" = 2.5
  dimension "d38" = 3.2
  dimension "d39" = 5
  dimension "d40" = 32.5
  dimension "d41" = 26.5
  dimension "d42" = 39
  dimension "d43" = 5
  dimension "d44" = 21
  dimension "d45" = 2.5
  dimension "d46" = 21.1
  dimension "d47" = 2.6
  dimension "d48" = 2.25
  dimension "d49" = 3.2
  dimension "d50" = 31
  dimension "d52" = 1.05
  dimension "d53" = 5
  dimension "d55" = 5
  dimension "d56" = 3
  dimension "d57" = 20.5
  dimension "d60" = 40
  dimension "d61" = 8
  dimension "d63" = 3.2
  dimension "d64" = 3.2
  dimension "d66" = 10
  dimension "d69" = 5
  dimension "d70" = 30
  dimension "d71" = 3.2
  dimension "d72" = 32.75
  dimension "d73" = 20
  dimension "d74" = 8
  dimension "d75" = 10
  dimension "d76" = 10
  dimension "d77" = 10
  dimension "d78" = 10
extrude "押し出し1" add sketch "スケッチ1" along normal blind 2 contours L96 L98 L100 L101 L104 L105 L106 L107 L103 L102 L99 L97 | L121 A45 L122 A44 L123 A43 L124 A42 L125 A41 L126 A40 | L128 A47 L132 A51 L131 A50 L130 A49 L129 A48 L127 A46 | L134 A53 L138 A57 L137 A56 L136 A55 L135 A54 L133 A52
fillet "フィレット1" radius 2 12 edges at (-17, -97, 1) (-33.5, -89, 1) (-33.5, -16, 1) (-23, -2.875, 1) (23, -97, 1) (37, -68.125, 1) (37, -33.25, 1) (47.5, -18.25, 1) (47.5, 22, 1) (44.5, 28.25, 1) (-23, 22, 1) (-18, 28.25, 1)
fillet "フィレット2" radius 2 8 edges at (-23.5, -33.25, 1) (-23.5, -50.25, 1) (27, -50.25, 1) (27, -33.25, 1) (-23.5, -77, 1) (-23.5, -58.25, 1) (27, -77, 1) (27, -58.25, 1)
equation "\"d10\" = d8"
equation "\"d16\" = d15"
equation "\"d18\" = d15"
equation "\"d19\" = d17"
equation "\"d23\" = d15"
equation "\"d24\" = d23"
equation "\"d25\" = d15"
equation "\"d26\" = d17"
properties part number "Trunk_upper_flank_frame" material "GFRP"
